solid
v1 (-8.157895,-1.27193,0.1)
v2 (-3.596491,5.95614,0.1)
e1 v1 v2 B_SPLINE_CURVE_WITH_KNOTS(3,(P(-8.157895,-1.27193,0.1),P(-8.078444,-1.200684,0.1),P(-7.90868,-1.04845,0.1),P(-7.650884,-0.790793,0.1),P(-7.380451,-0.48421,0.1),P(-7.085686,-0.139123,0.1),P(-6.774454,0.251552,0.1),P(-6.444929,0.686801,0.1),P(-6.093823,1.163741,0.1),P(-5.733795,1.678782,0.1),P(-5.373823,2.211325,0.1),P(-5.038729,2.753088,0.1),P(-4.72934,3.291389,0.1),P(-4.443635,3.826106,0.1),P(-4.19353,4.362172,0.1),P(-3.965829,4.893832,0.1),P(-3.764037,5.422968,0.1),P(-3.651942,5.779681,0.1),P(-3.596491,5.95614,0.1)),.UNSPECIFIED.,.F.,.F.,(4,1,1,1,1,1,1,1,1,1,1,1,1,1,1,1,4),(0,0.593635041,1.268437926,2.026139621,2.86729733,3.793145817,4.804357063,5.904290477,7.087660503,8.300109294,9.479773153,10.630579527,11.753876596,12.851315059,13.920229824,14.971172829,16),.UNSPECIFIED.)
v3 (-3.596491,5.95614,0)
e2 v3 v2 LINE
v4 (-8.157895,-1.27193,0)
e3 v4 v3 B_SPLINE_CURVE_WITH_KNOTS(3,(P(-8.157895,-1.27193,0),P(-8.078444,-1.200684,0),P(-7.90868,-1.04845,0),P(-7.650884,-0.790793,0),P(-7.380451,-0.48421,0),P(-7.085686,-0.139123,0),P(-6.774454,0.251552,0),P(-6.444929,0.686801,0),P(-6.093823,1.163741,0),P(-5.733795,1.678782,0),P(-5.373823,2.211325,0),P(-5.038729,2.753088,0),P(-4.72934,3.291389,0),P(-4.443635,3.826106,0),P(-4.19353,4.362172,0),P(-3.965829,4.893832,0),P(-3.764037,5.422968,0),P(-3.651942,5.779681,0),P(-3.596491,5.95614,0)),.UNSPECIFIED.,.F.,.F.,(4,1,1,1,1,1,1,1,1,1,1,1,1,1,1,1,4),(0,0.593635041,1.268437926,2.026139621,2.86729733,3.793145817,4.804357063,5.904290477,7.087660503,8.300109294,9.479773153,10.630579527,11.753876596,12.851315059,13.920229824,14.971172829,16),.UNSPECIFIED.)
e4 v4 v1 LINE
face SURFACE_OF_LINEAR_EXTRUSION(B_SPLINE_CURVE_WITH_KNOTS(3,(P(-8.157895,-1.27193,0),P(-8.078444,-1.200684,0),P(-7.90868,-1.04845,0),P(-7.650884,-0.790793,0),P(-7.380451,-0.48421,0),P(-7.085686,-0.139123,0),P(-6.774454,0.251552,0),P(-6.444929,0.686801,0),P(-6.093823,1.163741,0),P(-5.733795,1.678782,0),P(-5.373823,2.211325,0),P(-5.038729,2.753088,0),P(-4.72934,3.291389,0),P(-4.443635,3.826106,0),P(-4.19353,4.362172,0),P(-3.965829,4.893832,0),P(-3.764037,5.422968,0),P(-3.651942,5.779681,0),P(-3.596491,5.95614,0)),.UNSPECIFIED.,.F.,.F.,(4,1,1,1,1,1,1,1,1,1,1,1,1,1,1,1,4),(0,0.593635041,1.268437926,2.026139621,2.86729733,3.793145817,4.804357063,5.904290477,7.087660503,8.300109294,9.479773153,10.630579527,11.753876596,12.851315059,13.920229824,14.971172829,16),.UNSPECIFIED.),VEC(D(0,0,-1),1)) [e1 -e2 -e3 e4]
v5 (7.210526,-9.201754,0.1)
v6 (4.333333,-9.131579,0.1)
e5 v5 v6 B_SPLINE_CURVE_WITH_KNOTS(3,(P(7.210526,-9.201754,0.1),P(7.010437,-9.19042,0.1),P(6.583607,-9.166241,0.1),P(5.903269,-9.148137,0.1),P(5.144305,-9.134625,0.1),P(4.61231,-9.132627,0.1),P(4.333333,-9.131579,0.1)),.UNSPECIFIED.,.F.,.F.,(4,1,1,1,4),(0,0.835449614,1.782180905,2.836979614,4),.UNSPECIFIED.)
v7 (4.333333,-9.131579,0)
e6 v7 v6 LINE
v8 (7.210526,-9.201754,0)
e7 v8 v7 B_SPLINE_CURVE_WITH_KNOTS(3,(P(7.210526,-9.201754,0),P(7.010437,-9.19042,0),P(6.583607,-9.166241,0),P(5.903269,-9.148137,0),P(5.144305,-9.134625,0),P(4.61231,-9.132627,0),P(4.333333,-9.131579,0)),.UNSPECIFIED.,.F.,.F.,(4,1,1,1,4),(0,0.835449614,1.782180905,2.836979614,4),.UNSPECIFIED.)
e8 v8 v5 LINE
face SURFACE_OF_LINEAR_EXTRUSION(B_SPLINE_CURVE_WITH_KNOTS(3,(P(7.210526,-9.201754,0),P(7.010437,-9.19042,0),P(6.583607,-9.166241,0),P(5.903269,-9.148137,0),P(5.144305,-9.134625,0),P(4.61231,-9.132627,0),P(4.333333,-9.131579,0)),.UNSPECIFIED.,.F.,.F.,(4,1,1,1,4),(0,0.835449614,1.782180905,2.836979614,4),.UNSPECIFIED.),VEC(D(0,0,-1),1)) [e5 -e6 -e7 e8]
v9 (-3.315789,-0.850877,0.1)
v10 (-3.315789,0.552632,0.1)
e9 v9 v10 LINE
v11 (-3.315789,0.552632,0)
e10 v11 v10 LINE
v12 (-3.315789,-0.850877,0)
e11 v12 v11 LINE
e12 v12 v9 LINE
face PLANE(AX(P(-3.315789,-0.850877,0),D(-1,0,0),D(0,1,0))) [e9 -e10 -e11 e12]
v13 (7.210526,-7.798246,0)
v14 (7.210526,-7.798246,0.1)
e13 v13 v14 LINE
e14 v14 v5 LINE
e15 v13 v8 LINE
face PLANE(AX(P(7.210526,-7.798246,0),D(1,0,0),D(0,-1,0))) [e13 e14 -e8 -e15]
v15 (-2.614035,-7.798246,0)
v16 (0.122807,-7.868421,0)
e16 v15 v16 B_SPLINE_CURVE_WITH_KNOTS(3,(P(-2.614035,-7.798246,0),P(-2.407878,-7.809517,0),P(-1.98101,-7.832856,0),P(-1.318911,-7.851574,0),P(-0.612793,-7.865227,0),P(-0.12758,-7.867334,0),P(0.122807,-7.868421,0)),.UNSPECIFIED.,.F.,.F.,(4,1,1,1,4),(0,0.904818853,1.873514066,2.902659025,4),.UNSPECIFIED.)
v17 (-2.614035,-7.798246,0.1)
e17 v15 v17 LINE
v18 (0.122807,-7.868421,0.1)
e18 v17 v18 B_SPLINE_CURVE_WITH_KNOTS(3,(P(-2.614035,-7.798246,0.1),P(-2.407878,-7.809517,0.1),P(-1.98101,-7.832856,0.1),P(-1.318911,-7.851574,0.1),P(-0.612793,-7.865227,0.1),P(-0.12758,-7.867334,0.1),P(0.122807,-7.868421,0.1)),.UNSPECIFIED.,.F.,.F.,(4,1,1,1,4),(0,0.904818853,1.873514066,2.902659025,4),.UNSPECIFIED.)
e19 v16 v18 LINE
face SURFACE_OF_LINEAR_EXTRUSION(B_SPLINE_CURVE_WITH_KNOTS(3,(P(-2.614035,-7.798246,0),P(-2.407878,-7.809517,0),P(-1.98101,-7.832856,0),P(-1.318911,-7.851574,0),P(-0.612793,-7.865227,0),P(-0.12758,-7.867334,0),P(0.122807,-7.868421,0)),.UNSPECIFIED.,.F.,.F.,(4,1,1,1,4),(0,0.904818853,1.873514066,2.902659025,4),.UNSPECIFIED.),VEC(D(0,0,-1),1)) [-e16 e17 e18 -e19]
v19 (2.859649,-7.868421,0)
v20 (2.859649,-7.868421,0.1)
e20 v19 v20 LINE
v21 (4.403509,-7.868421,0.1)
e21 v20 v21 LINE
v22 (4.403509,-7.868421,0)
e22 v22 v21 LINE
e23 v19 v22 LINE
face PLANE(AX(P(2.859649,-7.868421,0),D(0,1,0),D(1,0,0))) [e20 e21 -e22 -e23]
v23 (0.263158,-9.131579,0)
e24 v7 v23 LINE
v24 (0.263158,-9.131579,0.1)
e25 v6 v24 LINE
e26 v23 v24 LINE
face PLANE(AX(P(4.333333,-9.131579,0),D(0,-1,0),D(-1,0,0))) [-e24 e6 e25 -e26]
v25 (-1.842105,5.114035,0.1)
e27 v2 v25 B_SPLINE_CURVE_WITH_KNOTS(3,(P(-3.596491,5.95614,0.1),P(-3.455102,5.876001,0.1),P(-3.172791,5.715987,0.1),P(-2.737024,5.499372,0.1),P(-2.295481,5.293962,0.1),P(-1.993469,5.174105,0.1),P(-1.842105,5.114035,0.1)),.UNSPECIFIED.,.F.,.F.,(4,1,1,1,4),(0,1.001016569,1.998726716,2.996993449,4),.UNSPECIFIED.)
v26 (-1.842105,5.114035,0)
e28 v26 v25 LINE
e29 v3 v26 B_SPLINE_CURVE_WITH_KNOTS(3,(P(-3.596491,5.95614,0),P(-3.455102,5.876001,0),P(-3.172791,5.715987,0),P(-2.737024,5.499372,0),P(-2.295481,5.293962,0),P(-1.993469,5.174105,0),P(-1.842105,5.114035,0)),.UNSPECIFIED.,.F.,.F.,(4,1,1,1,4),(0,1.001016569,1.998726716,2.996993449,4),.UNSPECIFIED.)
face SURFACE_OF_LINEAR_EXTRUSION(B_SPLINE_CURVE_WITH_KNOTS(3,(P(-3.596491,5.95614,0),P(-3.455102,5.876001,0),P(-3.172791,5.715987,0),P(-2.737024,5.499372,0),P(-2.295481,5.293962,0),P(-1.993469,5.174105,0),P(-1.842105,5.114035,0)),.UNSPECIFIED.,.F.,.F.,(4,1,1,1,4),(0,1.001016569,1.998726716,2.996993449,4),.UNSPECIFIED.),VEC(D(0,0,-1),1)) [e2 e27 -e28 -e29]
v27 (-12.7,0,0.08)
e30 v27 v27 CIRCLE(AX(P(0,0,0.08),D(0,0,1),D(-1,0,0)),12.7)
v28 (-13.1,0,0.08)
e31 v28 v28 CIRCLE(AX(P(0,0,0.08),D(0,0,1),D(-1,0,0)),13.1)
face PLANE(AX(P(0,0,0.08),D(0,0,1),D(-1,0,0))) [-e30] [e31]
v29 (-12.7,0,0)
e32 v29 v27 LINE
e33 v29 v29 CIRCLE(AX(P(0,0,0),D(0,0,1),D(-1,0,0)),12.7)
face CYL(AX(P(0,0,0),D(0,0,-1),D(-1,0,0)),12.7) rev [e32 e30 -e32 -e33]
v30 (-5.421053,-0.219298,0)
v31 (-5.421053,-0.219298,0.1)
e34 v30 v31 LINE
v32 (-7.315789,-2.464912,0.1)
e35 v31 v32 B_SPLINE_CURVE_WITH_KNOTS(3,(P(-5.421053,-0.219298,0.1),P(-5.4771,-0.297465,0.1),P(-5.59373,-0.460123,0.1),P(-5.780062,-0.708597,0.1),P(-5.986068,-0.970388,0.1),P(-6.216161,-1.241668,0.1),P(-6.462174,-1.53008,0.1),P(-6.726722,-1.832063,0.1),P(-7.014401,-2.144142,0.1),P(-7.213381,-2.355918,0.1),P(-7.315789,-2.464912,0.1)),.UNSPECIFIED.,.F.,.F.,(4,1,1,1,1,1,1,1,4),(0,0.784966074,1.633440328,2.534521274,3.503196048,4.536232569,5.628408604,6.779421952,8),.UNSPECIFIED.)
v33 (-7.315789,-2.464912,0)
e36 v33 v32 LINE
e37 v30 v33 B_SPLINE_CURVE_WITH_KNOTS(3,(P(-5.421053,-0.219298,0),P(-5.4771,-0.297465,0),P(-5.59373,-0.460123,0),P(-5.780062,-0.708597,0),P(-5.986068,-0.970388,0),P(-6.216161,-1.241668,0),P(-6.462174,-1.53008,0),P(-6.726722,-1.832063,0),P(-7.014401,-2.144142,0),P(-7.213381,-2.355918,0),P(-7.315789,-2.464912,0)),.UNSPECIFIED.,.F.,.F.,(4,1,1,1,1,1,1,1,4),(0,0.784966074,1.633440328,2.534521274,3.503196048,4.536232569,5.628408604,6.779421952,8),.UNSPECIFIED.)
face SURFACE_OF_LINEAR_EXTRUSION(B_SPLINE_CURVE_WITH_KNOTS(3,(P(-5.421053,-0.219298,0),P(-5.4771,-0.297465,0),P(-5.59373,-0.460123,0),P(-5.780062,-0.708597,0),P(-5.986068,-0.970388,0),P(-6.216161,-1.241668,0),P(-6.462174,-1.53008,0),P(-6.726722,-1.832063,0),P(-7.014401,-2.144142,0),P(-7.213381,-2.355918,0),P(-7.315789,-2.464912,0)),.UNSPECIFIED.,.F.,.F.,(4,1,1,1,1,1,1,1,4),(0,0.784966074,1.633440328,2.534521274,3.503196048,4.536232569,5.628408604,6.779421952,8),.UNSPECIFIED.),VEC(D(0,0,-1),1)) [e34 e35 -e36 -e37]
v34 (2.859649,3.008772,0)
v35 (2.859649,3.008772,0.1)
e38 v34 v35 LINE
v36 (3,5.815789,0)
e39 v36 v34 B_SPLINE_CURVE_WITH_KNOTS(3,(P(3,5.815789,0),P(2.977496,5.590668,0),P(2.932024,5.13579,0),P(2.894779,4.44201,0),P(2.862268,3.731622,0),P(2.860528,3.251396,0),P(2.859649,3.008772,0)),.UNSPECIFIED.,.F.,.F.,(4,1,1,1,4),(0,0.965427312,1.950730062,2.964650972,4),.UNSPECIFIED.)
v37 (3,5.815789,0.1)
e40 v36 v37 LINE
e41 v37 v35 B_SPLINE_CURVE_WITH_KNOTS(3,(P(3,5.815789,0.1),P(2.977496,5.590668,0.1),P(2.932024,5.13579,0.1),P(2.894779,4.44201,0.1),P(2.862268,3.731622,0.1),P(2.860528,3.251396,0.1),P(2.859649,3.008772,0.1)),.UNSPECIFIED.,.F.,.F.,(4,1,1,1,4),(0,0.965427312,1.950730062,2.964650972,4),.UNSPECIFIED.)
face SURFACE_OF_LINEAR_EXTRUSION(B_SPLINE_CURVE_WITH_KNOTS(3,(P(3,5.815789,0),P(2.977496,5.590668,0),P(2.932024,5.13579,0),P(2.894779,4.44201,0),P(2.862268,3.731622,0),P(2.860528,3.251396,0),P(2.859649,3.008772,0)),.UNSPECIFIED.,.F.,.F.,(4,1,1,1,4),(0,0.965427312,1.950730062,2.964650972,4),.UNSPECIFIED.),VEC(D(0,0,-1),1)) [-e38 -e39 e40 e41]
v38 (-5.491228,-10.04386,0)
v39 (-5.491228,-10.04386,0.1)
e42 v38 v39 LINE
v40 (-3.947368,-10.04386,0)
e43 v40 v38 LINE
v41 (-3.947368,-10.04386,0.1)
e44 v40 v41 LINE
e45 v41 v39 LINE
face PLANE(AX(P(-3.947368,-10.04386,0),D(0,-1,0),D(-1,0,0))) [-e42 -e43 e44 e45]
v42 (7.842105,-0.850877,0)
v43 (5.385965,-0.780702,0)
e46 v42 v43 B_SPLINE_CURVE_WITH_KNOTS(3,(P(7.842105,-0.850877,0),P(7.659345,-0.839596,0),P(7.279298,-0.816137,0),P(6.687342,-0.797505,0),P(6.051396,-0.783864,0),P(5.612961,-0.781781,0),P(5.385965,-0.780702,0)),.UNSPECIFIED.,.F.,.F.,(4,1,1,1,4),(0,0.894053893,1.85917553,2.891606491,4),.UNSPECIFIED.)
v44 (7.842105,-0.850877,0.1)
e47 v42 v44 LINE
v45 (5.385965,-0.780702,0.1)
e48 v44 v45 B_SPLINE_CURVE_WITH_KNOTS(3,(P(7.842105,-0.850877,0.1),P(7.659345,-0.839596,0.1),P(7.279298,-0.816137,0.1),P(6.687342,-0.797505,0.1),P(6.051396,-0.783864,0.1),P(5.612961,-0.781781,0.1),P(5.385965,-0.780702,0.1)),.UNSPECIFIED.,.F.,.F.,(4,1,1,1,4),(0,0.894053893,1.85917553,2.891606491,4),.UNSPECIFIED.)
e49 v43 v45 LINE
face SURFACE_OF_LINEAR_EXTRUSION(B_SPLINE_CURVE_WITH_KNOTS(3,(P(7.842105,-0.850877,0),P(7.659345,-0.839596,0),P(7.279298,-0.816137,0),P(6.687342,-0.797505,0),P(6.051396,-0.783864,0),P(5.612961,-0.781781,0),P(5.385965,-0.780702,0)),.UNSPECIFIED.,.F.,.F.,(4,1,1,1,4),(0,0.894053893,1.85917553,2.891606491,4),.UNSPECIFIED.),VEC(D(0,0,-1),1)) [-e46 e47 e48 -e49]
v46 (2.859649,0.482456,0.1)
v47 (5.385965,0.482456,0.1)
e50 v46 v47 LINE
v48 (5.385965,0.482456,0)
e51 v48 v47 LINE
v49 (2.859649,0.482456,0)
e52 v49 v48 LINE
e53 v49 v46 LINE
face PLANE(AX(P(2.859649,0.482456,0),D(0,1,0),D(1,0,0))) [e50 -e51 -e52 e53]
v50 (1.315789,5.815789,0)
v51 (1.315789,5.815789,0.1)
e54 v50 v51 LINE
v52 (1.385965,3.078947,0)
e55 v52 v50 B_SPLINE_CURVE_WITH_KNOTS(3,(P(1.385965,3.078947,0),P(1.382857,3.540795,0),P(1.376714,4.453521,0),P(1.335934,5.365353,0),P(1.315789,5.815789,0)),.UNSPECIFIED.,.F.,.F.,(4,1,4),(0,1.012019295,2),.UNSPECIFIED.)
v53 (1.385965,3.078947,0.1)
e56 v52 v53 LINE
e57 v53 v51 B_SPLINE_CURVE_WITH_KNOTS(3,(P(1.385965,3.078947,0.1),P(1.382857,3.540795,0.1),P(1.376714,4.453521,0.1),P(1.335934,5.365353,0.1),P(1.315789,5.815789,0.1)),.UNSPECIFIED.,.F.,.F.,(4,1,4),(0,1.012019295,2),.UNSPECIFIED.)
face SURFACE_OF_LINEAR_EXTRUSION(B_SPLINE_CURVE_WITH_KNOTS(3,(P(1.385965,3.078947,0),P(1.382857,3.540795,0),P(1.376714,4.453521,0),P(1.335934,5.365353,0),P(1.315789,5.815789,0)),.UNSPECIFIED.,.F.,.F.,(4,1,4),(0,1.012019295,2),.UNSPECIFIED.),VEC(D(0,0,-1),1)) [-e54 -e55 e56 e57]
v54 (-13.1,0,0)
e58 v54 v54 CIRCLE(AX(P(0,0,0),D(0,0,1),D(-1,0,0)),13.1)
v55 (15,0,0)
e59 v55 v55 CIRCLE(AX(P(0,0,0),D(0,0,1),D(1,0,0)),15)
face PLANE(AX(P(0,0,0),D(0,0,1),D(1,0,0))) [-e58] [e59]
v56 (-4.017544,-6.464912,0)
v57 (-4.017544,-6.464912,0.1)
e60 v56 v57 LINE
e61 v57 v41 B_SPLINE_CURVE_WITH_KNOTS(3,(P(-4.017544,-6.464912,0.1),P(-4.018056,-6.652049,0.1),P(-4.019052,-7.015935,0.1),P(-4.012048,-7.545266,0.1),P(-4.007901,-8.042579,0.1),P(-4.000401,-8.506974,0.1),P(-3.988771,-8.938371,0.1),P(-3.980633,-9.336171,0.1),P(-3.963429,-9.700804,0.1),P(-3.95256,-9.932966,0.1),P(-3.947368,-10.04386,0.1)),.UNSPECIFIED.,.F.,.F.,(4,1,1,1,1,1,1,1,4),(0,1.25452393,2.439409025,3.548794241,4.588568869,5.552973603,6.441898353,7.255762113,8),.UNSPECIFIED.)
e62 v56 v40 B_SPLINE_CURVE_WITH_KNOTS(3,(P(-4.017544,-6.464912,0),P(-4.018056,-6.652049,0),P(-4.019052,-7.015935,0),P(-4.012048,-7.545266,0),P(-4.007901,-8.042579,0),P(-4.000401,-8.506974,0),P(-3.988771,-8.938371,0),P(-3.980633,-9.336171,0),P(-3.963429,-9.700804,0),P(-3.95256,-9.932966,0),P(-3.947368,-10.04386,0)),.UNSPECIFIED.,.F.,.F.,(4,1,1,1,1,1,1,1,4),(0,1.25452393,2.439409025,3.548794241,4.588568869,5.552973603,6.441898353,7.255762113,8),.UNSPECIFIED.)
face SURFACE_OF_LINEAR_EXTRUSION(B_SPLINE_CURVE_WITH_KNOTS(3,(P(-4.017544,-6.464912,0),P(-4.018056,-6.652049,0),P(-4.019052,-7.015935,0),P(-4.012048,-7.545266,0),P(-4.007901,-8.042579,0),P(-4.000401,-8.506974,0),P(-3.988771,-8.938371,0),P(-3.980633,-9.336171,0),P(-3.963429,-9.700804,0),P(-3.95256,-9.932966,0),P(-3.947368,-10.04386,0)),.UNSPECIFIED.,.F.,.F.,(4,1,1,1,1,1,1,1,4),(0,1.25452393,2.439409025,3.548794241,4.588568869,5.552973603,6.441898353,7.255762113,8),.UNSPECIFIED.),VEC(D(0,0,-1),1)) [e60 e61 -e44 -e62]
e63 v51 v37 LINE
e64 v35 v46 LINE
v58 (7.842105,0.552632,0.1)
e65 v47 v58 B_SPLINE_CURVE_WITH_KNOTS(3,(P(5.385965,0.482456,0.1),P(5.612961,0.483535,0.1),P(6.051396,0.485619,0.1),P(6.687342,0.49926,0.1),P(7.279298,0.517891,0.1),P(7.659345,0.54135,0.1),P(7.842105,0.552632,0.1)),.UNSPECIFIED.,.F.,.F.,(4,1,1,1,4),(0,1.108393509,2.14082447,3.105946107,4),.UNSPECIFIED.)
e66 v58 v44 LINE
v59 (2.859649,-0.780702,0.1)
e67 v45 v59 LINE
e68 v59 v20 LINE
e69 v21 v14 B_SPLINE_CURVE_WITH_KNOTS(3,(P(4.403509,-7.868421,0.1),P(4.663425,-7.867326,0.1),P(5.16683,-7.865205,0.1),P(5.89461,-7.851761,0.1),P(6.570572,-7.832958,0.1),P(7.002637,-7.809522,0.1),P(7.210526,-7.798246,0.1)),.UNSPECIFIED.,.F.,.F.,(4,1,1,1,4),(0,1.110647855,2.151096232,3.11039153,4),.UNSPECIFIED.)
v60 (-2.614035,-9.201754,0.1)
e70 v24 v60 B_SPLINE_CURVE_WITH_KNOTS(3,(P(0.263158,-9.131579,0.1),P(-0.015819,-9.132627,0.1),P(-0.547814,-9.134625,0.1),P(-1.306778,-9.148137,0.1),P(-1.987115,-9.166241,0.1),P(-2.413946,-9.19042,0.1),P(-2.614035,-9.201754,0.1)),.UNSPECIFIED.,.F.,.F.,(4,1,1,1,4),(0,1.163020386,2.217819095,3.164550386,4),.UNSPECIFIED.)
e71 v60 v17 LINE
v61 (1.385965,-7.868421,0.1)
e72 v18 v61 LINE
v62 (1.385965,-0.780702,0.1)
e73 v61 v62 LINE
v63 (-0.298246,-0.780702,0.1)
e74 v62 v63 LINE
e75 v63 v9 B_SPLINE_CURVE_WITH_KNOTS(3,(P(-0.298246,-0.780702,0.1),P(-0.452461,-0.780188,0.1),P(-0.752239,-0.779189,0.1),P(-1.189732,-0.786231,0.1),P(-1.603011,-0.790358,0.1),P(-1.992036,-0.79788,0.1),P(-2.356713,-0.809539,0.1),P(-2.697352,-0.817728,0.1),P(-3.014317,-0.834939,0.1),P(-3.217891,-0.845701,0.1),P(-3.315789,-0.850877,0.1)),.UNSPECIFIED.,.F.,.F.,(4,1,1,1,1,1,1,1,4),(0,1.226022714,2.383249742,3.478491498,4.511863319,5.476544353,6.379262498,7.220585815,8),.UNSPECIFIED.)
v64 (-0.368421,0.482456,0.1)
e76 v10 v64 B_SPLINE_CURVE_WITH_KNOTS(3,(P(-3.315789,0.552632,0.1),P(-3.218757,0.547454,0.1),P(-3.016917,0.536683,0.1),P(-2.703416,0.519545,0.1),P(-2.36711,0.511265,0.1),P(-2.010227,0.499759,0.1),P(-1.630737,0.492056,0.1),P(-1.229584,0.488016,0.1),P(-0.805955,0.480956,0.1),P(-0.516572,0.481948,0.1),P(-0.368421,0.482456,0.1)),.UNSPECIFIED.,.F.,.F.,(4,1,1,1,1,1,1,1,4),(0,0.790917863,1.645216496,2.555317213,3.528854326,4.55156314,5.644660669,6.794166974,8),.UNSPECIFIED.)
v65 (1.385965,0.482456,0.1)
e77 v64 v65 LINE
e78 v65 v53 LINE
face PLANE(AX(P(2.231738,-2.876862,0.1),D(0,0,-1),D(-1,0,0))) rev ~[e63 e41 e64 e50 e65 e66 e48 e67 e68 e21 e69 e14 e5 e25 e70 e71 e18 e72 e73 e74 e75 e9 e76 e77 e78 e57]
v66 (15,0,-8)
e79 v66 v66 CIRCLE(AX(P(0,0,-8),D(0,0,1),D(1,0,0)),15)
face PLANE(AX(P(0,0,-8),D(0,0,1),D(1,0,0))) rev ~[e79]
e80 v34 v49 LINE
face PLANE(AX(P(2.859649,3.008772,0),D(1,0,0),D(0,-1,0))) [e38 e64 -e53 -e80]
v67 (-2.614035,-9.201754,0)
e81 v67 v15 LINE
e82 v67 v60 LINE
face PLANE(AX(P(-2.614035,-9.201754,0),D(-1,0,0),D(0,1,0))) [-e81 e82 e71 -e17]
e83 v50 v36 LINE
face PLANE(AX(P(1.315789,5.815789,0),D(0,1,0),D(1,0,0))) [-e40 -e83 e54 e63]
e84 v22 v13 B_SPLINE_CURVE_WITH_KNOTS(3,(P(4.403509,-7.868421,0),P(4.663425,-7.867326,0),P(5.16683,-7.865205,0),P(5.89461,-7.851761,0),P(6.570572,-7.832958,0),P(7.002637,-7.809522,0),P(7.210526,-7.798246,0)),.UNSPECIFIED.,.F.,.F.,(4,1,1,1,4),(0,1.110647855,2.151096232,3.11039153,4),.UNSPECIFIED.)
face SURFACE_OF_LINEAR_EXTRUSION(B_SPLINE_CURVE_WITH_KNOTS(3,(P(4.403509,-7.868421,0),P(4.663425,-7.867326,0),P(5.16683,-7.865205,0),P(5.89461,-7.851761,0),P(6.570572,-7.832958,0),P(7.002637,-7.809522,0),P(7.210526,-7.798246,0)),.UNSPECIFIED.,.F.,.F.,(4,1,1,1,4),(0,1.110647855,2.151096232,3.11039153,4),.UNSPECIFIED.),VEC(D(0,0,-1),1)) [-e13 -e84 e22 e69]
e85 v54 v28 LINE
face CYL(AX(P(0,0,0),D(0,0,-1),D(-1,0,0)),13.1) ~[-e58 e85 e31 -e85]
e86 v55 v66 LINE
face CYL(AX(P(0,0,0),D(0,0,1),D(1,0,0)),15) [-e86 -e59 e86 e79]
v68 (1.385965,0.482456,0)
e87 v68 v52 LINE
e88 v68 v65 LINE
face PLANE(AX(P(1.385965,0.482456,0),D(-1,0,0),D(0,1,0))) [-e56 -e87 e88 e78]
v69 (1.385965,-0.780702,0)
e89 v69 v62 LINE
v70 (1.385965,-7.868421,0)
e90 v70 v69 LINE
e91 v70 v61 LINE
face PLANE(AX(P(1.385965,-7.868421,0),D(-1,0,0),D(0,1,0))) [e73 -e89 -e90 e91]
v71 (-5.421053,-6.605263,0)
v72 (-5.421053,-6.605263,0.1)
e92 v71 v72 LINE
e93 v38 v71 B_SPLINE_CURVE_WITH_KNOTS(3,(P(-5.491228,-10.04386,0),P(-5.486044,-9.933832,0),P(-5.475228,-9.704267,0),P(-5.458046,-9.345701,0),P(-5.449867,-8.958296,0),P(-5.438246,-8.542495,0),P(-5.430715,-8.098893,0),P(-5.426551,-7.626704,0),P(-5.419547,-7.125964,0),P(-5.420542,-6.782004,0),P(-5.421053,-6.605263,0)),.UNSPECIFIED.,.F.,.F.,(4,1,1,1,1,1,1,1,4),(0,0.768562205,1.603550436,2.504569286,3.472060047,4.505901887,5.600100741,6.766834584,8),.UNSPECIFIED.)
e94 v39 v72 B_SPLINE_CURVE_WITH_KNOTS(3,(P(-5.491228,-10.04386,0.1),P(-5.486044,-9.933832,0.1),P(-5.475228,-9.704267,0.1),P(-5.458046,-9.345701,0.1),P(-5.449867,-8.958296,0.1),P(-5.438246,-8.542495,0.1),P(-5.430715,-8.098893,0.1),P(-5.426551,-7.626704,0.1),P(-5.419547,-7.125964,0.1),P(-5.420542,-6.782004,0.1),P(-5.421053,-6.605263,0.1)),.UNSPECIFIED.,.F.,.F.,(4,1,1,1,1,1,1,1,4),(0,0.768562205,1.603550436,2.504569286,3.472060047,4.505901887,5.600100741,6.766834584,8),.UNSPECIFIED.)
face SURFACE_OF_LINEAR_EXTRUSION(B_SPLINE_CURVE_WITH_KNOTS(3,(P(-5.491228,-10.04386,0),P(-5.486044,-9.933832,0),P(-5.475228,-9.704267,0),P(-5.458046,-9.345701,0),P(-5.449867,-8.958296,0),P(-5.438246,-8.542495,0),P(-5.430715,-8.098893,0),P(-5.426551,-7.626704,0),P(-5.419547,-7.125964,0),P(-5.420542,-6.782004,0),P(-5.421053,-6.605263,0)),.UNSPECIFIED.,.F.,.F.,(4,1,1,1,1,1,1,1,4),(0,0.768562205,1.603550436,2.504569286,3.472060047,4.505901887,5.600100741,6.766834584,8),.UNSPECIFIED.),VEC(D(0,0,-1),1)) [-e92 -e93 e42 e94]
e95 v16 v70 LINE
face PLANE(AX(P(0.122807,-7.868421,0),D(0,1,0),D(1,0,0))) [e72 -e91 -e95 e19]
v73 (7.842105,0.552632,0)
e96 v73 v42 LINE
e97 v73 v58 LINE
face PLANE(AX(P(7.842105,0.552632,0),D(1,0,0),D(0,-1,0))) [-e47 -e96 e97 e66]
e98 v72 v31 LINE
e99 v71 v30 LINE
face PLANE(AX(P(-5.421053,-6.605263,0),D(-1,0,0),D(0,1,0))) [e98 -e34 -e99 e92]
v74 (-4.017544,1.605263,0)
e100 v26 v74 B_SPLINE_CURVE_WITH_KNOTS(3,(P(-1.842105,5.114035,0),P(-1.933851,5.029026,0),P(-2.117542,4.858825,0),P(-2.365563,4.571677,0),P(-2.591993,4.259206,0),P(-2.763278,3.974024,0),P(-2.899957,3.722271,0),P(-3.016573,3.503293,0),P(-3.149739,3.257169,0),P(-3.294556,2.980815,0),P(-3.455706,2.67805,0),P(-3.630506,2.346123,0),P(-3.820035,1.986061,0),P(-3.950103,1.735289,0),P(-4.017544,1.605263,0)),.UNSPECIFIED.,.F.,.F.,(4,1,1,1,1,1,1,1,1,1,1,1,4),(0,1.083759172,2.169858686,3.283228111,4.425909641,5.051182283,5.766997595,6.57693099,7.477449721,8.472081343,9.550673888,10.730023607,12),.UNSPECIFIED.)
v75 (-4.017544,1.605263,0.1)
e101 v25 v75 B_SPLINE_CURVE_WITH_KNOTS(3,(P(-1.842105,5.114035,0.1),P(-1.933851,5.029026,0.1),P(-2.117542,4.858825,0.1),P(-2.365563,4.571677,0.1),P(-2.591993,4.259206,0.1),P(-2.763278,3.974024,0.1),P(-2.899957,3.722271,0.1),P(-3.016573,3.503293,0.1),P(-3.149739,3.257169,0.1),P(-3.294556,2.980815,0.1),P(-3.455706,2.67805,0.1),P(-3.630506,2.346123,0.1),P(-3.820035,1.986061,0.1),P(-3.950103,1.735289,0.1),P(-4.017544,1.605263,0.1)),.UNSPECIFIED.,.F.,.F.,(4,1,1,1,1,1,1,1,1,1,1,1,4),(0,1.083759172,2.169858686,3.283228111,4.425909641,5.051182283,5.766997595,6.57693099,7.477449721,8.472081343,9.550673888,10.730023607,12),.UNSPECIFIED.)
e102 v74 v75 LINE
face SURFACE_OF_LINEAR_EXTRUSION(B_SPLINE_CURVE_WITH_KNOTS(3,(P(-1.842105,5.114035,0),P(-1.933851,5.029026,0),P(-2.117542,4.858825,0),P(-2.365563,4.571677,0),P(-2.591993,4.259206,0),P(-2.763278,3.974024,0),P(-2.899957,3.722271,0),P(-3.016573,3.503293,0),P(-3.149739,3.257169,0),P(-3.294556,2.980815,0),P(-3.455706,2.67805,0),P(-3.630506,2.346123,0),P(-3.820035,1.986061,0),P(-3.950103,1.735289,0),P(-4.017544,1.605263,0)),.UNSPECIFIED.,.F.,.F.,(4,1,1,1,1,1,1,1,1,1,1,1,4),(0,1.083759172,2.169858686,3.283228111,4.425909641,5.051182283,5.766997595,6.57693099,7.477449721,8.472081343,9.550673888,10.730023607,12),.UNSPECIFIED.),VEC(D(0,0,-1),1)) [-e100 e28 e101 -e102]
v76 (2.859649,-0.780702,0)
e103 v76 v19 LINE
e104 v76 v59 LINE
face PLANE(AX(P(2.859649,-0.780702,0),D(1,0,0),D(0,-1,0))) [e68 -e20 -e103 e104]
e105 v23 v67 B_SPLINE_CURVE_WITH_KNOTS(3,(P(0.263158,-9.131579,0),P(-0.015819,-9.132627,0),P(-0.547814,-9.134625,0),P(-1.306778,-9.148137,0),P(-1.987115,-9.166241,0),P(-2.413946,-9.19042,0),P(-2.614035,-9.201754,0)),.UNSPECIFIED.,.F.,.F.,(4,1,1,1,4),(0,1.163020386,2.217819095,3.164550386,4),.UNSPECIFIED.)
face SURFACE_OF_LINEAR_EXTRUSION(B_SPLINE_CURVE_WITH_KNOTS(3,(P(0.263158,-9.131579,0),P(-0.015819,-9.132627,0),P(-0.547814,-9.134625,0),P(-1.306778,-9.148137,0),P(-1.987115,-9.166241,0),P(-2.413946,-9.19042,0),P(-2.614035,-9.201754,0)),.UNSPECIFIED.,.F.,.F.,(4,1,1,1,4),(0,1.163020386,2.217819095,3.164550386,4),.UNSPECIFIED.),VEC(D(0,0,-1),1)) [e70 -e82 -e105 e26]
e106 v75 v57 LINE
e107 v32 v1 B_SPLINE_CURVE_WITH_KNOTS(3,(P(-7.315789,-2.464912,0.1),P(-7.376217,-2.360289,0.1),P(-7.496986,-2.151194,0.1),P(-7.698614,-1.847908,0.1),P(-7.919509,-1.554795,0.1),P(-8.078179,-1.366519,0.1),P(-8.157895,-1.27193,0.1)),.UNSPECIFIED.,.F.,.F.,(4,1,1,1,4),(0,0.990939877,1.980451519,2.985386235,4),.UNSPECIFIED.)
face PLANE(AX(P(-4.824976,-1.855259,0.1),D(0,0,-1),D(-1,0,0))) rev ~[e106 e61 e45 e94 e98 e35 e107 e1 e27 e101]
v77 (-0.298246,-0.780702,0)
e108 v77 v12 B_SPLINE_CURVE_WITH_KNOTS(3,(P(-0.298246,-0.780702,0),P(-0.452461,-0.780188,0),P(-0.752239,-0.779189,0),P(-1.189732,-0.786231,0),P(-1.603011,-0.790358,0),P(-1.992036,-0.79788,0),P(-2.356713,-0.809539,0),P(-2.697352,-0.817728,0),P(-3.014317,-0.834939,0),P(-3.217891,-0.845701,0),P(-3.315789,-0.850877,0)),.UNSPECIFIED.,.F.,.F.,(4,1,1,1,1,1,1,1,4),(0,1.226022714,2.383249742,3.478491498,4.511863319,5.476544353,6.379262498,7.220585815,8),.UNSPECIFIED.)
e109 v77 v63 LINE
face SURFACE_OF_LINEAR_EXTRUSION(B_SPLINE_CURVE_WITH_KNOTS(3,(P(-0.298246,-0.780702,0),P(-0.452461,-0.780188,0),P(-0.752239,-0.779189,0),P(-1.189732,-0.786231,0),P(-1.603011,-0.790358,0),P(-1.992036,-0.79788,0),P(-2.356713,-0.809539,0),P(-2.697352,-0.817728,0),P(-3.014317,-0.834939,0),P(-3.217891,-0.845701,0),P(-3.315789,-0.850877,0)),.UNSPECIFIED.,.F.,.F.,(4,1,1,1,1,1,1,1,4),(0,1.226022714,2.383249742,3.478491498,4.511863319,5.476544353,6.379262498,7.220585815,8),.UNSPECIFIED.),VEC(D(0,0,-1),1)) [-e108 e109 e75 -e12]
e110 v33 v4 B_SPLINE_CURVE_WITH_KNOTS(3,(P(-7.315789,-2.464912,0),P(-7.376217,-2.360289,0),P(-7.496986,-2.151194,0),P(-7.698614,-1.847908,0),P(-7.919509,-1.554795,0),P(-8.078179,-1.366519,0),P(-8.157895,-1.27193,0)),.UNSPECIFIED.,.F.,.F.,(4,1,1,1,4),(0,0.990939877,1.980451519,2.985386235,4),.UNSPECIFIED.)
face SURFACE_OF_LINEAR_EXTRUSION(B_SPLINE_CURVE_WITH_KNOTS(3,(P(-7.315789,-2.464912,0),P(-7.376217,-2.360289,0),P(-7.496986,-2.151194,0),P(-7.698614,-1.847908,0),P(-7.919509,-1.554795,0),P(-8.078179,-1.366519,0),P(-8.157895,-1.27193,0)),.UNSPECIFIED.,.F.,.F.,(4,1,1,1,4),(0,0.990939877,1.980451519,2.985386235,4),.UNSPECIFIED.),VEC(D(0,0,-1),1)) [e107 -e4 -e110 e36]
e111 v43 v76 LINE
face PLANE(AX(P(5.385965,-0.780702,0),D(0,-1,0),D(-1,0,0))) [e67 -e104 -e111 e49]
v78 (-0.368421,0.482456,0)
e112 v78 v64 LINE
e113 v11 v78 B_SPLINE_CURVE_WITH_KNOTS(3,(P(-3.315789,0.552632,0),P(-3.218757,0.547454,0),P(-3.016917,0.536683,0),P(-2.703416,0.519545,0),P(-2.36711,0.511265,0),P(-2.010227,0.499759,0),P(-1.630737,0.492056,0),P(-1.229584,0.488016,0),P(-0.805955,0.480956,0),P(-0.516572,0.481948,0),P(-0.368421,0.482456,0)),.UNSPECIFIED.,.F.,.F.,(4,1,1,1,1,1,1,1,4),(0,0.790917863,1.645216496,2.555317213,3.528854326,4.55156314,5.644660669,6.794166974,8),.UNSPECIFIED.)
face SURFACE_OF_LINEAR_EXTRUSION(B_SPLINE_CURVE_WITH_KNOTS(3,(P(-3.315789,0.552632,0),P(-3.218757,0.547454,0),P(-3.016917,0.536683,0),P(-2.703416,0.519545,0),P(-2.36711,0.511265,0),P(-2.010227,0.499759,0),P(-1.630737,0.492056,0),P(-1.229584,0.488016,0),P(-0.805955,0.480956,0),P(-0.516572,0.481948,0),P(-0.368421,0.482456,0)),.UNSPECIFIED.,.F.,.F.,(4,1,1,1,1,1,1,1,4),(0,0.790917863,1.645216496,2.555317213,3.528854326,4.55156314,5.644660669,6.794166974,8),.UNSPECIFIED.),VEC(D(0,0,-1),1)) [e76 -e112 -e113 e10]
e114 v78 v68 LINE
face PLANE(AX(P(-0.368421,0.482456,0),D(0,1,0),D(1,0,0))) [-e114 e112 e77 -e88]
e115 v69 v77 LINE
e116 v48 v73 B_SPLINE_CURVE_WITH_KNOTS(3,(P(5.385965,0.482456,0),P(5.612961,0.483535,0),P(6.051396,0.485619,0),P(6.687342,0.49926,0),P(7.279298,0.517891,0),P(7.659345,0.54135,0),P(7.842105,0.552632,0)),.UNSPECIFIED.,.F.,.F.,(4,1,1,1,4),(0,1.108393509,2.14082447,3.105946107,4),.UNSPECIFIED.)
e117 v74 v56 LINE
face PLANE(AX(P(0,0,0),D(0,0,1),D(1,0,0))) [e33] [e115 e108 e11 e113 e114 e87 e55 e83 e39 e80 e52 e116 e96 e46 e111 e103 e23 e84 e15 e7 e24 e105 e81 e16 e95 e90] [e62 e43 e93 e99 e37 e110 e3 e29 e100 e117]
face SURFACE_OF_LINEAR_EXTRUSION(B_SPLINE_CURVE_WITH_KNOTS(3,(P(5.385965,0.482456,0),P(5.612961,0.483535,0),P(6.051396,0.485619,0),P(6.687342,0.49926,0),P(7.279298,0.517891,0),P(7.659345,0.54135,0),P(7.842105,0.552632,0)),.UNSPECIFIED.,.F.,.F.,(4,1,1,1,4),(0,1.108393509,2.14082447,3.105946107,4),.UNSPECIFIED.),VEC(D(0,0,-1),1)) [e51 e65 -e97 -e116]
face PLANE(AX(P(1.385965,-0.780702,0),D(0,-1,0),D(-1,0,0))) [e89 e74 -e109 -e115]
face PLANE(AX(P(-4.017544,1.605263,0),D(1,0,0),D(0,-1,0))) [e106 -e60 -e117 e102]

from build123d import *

# Parameters (mm, degrees)
SKETCH_1_R               = 15
DIAMETER30_HEIGHT8_DEPTH = 8
CHARACTER_DEPTH          = 0.1
SKETCH_3_R               = 13.1
SKETCH_3_R_2             = 12.7
INK_RING_DEPTH           = 0.08


with BuildPart() as part:
    # 草图1 → Diameter30_Height8 (new body)
    with BuildSketch(Plane.XY):
        Circle(SKETCH_1_R)
    extrude(amount=-DIAMETER30_HEIGHT8_DEPTH)

    # 草图2 → Character_仕 (add)
    with BuildSketch(Plane.XY):
        with BuildLine():
            Line((1.385964912, 0.48245614), (1.385964912, 3.078947368))
            add(Edge.make_bspline(
                [(1.385964912, 3.078947368), (1.382856556, 3.540795331), (1.376713677, 4.453520939), (1.335934161, 5.365353156), (1.315789474, 5.815789474)],
                knots=[0, 0, 0, 0, 1.012019295, 2, 2, 2, 2], degree=3))
            Line((1.315789474, 5.815789474), (3, 5.815789474))
            add(Edge.make_bspline(
                [(3, 5.815789474), (2.977495606, 5.590667791), (2.932023515, 5.135789802), (2.894778649, 4.442009997), (2.862268379, 3.73162247), (2.860528273, 3.251395934), (2.859649123, 3.00877193)],
                knots=[0, 0, 0, 0, 0.965427312, 1.950730062, 2.964650972, 4, 4, 4, 4], degree=3))
            Line((2.859649123, 3.00877193), (2.859649123, 0.48245614))
            Line((2.859649123, 0.48245614), (5.385964912, 0.48245614))
            add(Edge.make_bspline(
                [(5.385964912, 0.48245614), (5.612960978, 0.48353494), (6.051396179, 0.485618604), (6.68734214, 0.499259504), (7.279297852, 0.517890937), (7.659345282, 0.541350279), (7.842105263, 0.552631579)],
                knots=[0, 0, 0, 0, 1.108393509, 2.14082447, 3.105946107, 4, 4, 4, 4], degree=3))
            Line((7.842105263, 0.552631579), (7.842105263, -0.850877193))
            add(Edge.make_bspline(
                [(7.842105263, -0.850877193), (7.659345282, -0.839595893), (7.279297852, -0.816136551), (6.68734214, -0.797505118), (6.051396179, -0.783864218), (5.612960978, -0.781780554), (5.385964912, -0.780701754)],
                knots=[0, 0, 0, 0, 0.894053893, 1.85917553, 2.891606491, 4, 4, 4, 4], degree=3))
            Line((5.385964912, -0.780701754), (2.859649123, -0.780701754))
            Line((2.859649123, -0.780701754), (2.859649123, -7.868421053))
            Line((2.859649123, -7.868421053), (4.403508772, -7.868421053))
            add(Edge.make_bspline(
                [(4.403508772, -7.868421053), (4.663425226, -7.867326084), (5.166829886, -7.865205357), (5.894610336, -7.851761208), (6.570572064, -7.832958173), (7.00263653, -7.809522024), (7.210526316, -7.798245614)],
                knots=[0, 0, 0, 0, 1.110647855, 2.151096232, 3.11039153, 4, 4, 4, 4], degree=3))
            Line((7.210526316, -7.798245614), (7.210526316, -9.201754386))
            add(Edge.make_bspline(
                [(7.210526316, -9.201754386), (7.010437031, -9.190419998), (6.583606619, -9.166241483), (5.90326924, -9.148137401), (5.144305253, -9.134624919), (4.612310457, -9.132626772), (4.333333333, -9.131578947)],
                knots=[0, 0, 0, 0, 0.835449614, 1.782180905, 2.836979614, 4, 4, 4, 4], degree=3))
            Line((4.333333333, -9.131578947), (0.263157895, -9.131578947))
            add(Edge.make_bspline(
                [(0.263157895, -9.131578947), (-0.015819229, -9.132626772), (-0.547814025, -9.134624919), (-1.306778012, -9.148137401), (-1.987115391, -9.166241483), (-2.413945803, -9.190419998), (-2.614035088, -9.201754386)],
                knots=[0, 0, 0, 0, 1.163020386, 2.217819095, 3.164550386, 4, 4, 4, 4], degree=3))
            Line((-2.614035088, -9.201754386), (-2.614035088, -7.798245614))
            add(Edge.make_bspline(
                [(-2.614035088, -7.798245614), (-2.407878143, -7.809517208), (-1.981010451, -7.832856124), (-1.318910587, -7.851574268), (-0.61279286, -7.865227274), (-0.127579839, -7.86733394), (0.122807018, -7.868421053)],
                knots=[0, 0, 0, 0, 0.904818853, 1.873514066, 2.902659025, 4, 4, 4, 4], degree=3))
            Line((0.122807018, -7.868421053), (1.385964912, -7.868421053))
            Line((1.385964912, -7.868421053), (1.385964912, -0.780701754))
            Line((1.385964912, -0.780701754), (-0.298245614, -0.780701754))
            add(Edge.make_bspline(
                [(-0.298245614, -0.780701754), (-0.452461393, -0.780188061), (-0.752239456, -0.7791895), (-1.189731892, -0.786231443), (-1.603011279, -0.790357704), (-1.992035716, -0.797879868), (-2.356713286, -0.809539056), (-2.697351984, -0.817728412), (-3.014316789, -0.834938878), (-3.217890625, -0.845701458), (-3.315789474, -0.850877193)],
                knots=[0, 0, 0, 0, 1.226022714, 2.383249742, 3.478491498, 4.511863319, 5.476544353, 6.379262498, 7.220585815, 8, 8, 8, 8], degree=3))
            Line((-3.315789474, -0.850877193), (-3.315789474, 0.552631579))
            add(Edge.make_bspline(
                [(-3.315789474, 0.552631579), (-3.21875707, 0.547453703), (-3.016916501, 0.536683017), (-2.703415706, 0.519544836), (-2.367110401, 0.511265445), (-2.010227251, 0.49975938), (-1.630736813, 0.492055864), (-1.229584063, 0.488016267), (-0.805954579, 0.480955843), (-0.51657237, 0.481948131), (-0.368421053, 0.48245614)],
                knots=[0, 0, 0, 0, 0.790917863, 1.645216496, 2.555317213, 3.528854326, 4.55156314, 5.644660669, 6.794166974, 8, 8, 8, 8], degree=3))
            Line((-0.368421053, 0.48245614), (1.385964912, 0.48245614))
        make_face()
        with BuildLine():
            add(Edge.make_bspline(
                [(-1.842105263, 5.114035088), (-1.933851435, 5.029026304), (-2.117541902, 4.858825164), (-2.365563333, 4.57167672), (-2.591993254, 4.259206087), (-2.763277727, 3.974023896), (-2.899956693, 3.72227062), (-3.016573333, 3.503293196), (-3.149738899, 3.257168631), (-3.294556387, 2.980814576), (-3.455706316, 2.678049907), (-3.630506142, 2.346123327), (-3.820034881, 1.98606085), (-3.950103328, 1.735288634), (-4.01754386, 1.605263158)],
                knots=[0, 0, 0, 0, 1.083759172, 2.169858686, 3.283228111, 4.425909641, 5.051182283, 5.766997595, 6.57693099, 7.477449721, 8.472081343, 9.550673888, 10.730023607, 12, 12, 12, 12], degree=3))
            Line((-4.01754386, 1.605263158), (-4.01754386, -6.464912281))
            add(Edge.make_bspline(
                [(-4.01754386, -6.464912281), (-4.018056133, -6.65204931), (-4.019052245, -7.015935362), (-4.012047973, -7.545266441), (-4.007901436, -8.042578811), (-4.000400634, -8.506973521), (-3.988771218, -8.938370958), (-3.98063319, -9.336170915), (-3.963429216, -9.700804491), (-3.952560119, -9.932966081), (-3.947368421, -10.043859649)],
                knots=[0, 0, 0, 0, 1.25452393, 2.439409025, 3.548794241, 4.588568869, 5.552973603, 6.441898353, 7.255762113, 8, 8, 8, 8], degree=3))
            Line((-3.947368421, -10.043859649), (-5.49122807, -10.043859649))
            add(Edge.make_bspline(
                [(-5.49122807, -10.043859649), (-5.48604403, -9.933832078), (-5.4752279, -9.704267368), (-5.458045854, -9.34570061), (-5.449866698, -8.958296312), (-5.43824574, -8.54249494), (-5.430714946, -8.098893278), (-5.426551478, -7.626704474), (-5.419547466, -7.12596442), (-5.420541736, -6.782003967), (-5.421052632, -6.605263158)],
                knots=[0, 0, 0, 0, 0.768562205, 1.603550436, 2.504569286, 3.472060047, 4.505901887, 5.600100741, 6.766834584, 8, 8, 8, 8], degree=3))
            Line((-5.421052632, -6.605263158), (-5.421052632, -0.219298246))
            add(Edge.make_bspline(
                [(-5.421052632, -0.219298246), (-5.477100123, -0.297465115), (-5.593729665, -0.460122996), (-5.780061764, -0.708596832), (-5.986068105, -0.970387502), (-6.216160665, -1.241667605), (-6.462173545, -1.53007964), (-6.726721569, -1.832063458), (-7.014400911, -2.14414193), (-7.213381091, -2.355918188), (-7.315789474, -2.464912281)],
                knots=[0, 0, 0, 0, 0.784966074, 1.633440328, 2.534521274, 3.503196048, 4.536232569, 5.628408604, 6.779421952, 8, 8, 8, 8], degree=3))
            add(Edge.make_bspline(
                [(-7.315789474, -2.464912281), (-7.376217454, -2.360289355), (-7.496986321, -2.151194296), (-7.698613752, -1.847907954), (-7.919509238, -1.554794995), (-8.078179419, -1.366518997), (-8.157894737, -1.271929825)],
                knots=[0, 0, 0, 0, 0.990939877, 1.980451519, 2.985386235, 4, 4, 4, 4], degree=3))
            add(Edge.make_bspline(
                [(-8.157894737, -1.271929825), (-8.078444276, -1.200683827), (-7.908680075, -1.048450351), (-7.650883543, -0.790792829), (-7.380450508, -0.484210357), (-7.085685528, -0.139123391), (-6.774453616, 0.251552056), (-6.444928694, 0.686800589), (-6.093822829, 1.163741111), (-5.733795482, 1.678782143), (-5.373823069, 2.211324676), (-5.038729415, 2.753088359), (-4.729340369, 3.291388528), (-4.443634689, 3.826106433), (-4.193529603, 4.362171988), (-3.965829486, 4.893831939), (-3.764036827, 5.42296806), (-3.651942432, 5.779680656), (-3.596491228, 5.956140351)],
                knots=[0, 0, 0, 0, 0.593635041, 1.268437926, 2.026139621, 2.86729733, 3.793145817, 4.804357063, 5.904290477, 7.087660503, 8.300109294, 9.479773153, 10.630579527, 11.753876596, 12.851315059, 13.920229824, 14.971172829, 16, 16, 16, 16], degree=3))
            add(Edge.make_bspline(
                [(-3.596491228, 5.956140351), (-3.455102142, 5.876001082), (-3.172790986, 5.715987251), (-2.737023645, 5.499372043), (-2.295481279, 5.293961951), (-1.99346903, 5.174105332), (-1.842105263, 5.114035088)],
                knots=[0, 0, 0, 0, 1.001016569, 1.998726716, 2.996993449, 4, 4, 4, 4], degree=3))
        make_face()
    extrude(amount=CHARACTER_DEPTH)

    # 草图3 → Ink_ring (add)
    with BuildSketch(Plane.XY):
        with Locations(Location((0, 0, 0), (0, 0, 180))):
            Circle(SKETCH_3_R)
        with Locations(Location((0, 0, 0), (0, 0, 180))):
            Circle(SKETCH_3_R_2, mode=Mode.SUBTRACT)
    extrude(amount=INK_RING_DEPTH)


solid = part.part
